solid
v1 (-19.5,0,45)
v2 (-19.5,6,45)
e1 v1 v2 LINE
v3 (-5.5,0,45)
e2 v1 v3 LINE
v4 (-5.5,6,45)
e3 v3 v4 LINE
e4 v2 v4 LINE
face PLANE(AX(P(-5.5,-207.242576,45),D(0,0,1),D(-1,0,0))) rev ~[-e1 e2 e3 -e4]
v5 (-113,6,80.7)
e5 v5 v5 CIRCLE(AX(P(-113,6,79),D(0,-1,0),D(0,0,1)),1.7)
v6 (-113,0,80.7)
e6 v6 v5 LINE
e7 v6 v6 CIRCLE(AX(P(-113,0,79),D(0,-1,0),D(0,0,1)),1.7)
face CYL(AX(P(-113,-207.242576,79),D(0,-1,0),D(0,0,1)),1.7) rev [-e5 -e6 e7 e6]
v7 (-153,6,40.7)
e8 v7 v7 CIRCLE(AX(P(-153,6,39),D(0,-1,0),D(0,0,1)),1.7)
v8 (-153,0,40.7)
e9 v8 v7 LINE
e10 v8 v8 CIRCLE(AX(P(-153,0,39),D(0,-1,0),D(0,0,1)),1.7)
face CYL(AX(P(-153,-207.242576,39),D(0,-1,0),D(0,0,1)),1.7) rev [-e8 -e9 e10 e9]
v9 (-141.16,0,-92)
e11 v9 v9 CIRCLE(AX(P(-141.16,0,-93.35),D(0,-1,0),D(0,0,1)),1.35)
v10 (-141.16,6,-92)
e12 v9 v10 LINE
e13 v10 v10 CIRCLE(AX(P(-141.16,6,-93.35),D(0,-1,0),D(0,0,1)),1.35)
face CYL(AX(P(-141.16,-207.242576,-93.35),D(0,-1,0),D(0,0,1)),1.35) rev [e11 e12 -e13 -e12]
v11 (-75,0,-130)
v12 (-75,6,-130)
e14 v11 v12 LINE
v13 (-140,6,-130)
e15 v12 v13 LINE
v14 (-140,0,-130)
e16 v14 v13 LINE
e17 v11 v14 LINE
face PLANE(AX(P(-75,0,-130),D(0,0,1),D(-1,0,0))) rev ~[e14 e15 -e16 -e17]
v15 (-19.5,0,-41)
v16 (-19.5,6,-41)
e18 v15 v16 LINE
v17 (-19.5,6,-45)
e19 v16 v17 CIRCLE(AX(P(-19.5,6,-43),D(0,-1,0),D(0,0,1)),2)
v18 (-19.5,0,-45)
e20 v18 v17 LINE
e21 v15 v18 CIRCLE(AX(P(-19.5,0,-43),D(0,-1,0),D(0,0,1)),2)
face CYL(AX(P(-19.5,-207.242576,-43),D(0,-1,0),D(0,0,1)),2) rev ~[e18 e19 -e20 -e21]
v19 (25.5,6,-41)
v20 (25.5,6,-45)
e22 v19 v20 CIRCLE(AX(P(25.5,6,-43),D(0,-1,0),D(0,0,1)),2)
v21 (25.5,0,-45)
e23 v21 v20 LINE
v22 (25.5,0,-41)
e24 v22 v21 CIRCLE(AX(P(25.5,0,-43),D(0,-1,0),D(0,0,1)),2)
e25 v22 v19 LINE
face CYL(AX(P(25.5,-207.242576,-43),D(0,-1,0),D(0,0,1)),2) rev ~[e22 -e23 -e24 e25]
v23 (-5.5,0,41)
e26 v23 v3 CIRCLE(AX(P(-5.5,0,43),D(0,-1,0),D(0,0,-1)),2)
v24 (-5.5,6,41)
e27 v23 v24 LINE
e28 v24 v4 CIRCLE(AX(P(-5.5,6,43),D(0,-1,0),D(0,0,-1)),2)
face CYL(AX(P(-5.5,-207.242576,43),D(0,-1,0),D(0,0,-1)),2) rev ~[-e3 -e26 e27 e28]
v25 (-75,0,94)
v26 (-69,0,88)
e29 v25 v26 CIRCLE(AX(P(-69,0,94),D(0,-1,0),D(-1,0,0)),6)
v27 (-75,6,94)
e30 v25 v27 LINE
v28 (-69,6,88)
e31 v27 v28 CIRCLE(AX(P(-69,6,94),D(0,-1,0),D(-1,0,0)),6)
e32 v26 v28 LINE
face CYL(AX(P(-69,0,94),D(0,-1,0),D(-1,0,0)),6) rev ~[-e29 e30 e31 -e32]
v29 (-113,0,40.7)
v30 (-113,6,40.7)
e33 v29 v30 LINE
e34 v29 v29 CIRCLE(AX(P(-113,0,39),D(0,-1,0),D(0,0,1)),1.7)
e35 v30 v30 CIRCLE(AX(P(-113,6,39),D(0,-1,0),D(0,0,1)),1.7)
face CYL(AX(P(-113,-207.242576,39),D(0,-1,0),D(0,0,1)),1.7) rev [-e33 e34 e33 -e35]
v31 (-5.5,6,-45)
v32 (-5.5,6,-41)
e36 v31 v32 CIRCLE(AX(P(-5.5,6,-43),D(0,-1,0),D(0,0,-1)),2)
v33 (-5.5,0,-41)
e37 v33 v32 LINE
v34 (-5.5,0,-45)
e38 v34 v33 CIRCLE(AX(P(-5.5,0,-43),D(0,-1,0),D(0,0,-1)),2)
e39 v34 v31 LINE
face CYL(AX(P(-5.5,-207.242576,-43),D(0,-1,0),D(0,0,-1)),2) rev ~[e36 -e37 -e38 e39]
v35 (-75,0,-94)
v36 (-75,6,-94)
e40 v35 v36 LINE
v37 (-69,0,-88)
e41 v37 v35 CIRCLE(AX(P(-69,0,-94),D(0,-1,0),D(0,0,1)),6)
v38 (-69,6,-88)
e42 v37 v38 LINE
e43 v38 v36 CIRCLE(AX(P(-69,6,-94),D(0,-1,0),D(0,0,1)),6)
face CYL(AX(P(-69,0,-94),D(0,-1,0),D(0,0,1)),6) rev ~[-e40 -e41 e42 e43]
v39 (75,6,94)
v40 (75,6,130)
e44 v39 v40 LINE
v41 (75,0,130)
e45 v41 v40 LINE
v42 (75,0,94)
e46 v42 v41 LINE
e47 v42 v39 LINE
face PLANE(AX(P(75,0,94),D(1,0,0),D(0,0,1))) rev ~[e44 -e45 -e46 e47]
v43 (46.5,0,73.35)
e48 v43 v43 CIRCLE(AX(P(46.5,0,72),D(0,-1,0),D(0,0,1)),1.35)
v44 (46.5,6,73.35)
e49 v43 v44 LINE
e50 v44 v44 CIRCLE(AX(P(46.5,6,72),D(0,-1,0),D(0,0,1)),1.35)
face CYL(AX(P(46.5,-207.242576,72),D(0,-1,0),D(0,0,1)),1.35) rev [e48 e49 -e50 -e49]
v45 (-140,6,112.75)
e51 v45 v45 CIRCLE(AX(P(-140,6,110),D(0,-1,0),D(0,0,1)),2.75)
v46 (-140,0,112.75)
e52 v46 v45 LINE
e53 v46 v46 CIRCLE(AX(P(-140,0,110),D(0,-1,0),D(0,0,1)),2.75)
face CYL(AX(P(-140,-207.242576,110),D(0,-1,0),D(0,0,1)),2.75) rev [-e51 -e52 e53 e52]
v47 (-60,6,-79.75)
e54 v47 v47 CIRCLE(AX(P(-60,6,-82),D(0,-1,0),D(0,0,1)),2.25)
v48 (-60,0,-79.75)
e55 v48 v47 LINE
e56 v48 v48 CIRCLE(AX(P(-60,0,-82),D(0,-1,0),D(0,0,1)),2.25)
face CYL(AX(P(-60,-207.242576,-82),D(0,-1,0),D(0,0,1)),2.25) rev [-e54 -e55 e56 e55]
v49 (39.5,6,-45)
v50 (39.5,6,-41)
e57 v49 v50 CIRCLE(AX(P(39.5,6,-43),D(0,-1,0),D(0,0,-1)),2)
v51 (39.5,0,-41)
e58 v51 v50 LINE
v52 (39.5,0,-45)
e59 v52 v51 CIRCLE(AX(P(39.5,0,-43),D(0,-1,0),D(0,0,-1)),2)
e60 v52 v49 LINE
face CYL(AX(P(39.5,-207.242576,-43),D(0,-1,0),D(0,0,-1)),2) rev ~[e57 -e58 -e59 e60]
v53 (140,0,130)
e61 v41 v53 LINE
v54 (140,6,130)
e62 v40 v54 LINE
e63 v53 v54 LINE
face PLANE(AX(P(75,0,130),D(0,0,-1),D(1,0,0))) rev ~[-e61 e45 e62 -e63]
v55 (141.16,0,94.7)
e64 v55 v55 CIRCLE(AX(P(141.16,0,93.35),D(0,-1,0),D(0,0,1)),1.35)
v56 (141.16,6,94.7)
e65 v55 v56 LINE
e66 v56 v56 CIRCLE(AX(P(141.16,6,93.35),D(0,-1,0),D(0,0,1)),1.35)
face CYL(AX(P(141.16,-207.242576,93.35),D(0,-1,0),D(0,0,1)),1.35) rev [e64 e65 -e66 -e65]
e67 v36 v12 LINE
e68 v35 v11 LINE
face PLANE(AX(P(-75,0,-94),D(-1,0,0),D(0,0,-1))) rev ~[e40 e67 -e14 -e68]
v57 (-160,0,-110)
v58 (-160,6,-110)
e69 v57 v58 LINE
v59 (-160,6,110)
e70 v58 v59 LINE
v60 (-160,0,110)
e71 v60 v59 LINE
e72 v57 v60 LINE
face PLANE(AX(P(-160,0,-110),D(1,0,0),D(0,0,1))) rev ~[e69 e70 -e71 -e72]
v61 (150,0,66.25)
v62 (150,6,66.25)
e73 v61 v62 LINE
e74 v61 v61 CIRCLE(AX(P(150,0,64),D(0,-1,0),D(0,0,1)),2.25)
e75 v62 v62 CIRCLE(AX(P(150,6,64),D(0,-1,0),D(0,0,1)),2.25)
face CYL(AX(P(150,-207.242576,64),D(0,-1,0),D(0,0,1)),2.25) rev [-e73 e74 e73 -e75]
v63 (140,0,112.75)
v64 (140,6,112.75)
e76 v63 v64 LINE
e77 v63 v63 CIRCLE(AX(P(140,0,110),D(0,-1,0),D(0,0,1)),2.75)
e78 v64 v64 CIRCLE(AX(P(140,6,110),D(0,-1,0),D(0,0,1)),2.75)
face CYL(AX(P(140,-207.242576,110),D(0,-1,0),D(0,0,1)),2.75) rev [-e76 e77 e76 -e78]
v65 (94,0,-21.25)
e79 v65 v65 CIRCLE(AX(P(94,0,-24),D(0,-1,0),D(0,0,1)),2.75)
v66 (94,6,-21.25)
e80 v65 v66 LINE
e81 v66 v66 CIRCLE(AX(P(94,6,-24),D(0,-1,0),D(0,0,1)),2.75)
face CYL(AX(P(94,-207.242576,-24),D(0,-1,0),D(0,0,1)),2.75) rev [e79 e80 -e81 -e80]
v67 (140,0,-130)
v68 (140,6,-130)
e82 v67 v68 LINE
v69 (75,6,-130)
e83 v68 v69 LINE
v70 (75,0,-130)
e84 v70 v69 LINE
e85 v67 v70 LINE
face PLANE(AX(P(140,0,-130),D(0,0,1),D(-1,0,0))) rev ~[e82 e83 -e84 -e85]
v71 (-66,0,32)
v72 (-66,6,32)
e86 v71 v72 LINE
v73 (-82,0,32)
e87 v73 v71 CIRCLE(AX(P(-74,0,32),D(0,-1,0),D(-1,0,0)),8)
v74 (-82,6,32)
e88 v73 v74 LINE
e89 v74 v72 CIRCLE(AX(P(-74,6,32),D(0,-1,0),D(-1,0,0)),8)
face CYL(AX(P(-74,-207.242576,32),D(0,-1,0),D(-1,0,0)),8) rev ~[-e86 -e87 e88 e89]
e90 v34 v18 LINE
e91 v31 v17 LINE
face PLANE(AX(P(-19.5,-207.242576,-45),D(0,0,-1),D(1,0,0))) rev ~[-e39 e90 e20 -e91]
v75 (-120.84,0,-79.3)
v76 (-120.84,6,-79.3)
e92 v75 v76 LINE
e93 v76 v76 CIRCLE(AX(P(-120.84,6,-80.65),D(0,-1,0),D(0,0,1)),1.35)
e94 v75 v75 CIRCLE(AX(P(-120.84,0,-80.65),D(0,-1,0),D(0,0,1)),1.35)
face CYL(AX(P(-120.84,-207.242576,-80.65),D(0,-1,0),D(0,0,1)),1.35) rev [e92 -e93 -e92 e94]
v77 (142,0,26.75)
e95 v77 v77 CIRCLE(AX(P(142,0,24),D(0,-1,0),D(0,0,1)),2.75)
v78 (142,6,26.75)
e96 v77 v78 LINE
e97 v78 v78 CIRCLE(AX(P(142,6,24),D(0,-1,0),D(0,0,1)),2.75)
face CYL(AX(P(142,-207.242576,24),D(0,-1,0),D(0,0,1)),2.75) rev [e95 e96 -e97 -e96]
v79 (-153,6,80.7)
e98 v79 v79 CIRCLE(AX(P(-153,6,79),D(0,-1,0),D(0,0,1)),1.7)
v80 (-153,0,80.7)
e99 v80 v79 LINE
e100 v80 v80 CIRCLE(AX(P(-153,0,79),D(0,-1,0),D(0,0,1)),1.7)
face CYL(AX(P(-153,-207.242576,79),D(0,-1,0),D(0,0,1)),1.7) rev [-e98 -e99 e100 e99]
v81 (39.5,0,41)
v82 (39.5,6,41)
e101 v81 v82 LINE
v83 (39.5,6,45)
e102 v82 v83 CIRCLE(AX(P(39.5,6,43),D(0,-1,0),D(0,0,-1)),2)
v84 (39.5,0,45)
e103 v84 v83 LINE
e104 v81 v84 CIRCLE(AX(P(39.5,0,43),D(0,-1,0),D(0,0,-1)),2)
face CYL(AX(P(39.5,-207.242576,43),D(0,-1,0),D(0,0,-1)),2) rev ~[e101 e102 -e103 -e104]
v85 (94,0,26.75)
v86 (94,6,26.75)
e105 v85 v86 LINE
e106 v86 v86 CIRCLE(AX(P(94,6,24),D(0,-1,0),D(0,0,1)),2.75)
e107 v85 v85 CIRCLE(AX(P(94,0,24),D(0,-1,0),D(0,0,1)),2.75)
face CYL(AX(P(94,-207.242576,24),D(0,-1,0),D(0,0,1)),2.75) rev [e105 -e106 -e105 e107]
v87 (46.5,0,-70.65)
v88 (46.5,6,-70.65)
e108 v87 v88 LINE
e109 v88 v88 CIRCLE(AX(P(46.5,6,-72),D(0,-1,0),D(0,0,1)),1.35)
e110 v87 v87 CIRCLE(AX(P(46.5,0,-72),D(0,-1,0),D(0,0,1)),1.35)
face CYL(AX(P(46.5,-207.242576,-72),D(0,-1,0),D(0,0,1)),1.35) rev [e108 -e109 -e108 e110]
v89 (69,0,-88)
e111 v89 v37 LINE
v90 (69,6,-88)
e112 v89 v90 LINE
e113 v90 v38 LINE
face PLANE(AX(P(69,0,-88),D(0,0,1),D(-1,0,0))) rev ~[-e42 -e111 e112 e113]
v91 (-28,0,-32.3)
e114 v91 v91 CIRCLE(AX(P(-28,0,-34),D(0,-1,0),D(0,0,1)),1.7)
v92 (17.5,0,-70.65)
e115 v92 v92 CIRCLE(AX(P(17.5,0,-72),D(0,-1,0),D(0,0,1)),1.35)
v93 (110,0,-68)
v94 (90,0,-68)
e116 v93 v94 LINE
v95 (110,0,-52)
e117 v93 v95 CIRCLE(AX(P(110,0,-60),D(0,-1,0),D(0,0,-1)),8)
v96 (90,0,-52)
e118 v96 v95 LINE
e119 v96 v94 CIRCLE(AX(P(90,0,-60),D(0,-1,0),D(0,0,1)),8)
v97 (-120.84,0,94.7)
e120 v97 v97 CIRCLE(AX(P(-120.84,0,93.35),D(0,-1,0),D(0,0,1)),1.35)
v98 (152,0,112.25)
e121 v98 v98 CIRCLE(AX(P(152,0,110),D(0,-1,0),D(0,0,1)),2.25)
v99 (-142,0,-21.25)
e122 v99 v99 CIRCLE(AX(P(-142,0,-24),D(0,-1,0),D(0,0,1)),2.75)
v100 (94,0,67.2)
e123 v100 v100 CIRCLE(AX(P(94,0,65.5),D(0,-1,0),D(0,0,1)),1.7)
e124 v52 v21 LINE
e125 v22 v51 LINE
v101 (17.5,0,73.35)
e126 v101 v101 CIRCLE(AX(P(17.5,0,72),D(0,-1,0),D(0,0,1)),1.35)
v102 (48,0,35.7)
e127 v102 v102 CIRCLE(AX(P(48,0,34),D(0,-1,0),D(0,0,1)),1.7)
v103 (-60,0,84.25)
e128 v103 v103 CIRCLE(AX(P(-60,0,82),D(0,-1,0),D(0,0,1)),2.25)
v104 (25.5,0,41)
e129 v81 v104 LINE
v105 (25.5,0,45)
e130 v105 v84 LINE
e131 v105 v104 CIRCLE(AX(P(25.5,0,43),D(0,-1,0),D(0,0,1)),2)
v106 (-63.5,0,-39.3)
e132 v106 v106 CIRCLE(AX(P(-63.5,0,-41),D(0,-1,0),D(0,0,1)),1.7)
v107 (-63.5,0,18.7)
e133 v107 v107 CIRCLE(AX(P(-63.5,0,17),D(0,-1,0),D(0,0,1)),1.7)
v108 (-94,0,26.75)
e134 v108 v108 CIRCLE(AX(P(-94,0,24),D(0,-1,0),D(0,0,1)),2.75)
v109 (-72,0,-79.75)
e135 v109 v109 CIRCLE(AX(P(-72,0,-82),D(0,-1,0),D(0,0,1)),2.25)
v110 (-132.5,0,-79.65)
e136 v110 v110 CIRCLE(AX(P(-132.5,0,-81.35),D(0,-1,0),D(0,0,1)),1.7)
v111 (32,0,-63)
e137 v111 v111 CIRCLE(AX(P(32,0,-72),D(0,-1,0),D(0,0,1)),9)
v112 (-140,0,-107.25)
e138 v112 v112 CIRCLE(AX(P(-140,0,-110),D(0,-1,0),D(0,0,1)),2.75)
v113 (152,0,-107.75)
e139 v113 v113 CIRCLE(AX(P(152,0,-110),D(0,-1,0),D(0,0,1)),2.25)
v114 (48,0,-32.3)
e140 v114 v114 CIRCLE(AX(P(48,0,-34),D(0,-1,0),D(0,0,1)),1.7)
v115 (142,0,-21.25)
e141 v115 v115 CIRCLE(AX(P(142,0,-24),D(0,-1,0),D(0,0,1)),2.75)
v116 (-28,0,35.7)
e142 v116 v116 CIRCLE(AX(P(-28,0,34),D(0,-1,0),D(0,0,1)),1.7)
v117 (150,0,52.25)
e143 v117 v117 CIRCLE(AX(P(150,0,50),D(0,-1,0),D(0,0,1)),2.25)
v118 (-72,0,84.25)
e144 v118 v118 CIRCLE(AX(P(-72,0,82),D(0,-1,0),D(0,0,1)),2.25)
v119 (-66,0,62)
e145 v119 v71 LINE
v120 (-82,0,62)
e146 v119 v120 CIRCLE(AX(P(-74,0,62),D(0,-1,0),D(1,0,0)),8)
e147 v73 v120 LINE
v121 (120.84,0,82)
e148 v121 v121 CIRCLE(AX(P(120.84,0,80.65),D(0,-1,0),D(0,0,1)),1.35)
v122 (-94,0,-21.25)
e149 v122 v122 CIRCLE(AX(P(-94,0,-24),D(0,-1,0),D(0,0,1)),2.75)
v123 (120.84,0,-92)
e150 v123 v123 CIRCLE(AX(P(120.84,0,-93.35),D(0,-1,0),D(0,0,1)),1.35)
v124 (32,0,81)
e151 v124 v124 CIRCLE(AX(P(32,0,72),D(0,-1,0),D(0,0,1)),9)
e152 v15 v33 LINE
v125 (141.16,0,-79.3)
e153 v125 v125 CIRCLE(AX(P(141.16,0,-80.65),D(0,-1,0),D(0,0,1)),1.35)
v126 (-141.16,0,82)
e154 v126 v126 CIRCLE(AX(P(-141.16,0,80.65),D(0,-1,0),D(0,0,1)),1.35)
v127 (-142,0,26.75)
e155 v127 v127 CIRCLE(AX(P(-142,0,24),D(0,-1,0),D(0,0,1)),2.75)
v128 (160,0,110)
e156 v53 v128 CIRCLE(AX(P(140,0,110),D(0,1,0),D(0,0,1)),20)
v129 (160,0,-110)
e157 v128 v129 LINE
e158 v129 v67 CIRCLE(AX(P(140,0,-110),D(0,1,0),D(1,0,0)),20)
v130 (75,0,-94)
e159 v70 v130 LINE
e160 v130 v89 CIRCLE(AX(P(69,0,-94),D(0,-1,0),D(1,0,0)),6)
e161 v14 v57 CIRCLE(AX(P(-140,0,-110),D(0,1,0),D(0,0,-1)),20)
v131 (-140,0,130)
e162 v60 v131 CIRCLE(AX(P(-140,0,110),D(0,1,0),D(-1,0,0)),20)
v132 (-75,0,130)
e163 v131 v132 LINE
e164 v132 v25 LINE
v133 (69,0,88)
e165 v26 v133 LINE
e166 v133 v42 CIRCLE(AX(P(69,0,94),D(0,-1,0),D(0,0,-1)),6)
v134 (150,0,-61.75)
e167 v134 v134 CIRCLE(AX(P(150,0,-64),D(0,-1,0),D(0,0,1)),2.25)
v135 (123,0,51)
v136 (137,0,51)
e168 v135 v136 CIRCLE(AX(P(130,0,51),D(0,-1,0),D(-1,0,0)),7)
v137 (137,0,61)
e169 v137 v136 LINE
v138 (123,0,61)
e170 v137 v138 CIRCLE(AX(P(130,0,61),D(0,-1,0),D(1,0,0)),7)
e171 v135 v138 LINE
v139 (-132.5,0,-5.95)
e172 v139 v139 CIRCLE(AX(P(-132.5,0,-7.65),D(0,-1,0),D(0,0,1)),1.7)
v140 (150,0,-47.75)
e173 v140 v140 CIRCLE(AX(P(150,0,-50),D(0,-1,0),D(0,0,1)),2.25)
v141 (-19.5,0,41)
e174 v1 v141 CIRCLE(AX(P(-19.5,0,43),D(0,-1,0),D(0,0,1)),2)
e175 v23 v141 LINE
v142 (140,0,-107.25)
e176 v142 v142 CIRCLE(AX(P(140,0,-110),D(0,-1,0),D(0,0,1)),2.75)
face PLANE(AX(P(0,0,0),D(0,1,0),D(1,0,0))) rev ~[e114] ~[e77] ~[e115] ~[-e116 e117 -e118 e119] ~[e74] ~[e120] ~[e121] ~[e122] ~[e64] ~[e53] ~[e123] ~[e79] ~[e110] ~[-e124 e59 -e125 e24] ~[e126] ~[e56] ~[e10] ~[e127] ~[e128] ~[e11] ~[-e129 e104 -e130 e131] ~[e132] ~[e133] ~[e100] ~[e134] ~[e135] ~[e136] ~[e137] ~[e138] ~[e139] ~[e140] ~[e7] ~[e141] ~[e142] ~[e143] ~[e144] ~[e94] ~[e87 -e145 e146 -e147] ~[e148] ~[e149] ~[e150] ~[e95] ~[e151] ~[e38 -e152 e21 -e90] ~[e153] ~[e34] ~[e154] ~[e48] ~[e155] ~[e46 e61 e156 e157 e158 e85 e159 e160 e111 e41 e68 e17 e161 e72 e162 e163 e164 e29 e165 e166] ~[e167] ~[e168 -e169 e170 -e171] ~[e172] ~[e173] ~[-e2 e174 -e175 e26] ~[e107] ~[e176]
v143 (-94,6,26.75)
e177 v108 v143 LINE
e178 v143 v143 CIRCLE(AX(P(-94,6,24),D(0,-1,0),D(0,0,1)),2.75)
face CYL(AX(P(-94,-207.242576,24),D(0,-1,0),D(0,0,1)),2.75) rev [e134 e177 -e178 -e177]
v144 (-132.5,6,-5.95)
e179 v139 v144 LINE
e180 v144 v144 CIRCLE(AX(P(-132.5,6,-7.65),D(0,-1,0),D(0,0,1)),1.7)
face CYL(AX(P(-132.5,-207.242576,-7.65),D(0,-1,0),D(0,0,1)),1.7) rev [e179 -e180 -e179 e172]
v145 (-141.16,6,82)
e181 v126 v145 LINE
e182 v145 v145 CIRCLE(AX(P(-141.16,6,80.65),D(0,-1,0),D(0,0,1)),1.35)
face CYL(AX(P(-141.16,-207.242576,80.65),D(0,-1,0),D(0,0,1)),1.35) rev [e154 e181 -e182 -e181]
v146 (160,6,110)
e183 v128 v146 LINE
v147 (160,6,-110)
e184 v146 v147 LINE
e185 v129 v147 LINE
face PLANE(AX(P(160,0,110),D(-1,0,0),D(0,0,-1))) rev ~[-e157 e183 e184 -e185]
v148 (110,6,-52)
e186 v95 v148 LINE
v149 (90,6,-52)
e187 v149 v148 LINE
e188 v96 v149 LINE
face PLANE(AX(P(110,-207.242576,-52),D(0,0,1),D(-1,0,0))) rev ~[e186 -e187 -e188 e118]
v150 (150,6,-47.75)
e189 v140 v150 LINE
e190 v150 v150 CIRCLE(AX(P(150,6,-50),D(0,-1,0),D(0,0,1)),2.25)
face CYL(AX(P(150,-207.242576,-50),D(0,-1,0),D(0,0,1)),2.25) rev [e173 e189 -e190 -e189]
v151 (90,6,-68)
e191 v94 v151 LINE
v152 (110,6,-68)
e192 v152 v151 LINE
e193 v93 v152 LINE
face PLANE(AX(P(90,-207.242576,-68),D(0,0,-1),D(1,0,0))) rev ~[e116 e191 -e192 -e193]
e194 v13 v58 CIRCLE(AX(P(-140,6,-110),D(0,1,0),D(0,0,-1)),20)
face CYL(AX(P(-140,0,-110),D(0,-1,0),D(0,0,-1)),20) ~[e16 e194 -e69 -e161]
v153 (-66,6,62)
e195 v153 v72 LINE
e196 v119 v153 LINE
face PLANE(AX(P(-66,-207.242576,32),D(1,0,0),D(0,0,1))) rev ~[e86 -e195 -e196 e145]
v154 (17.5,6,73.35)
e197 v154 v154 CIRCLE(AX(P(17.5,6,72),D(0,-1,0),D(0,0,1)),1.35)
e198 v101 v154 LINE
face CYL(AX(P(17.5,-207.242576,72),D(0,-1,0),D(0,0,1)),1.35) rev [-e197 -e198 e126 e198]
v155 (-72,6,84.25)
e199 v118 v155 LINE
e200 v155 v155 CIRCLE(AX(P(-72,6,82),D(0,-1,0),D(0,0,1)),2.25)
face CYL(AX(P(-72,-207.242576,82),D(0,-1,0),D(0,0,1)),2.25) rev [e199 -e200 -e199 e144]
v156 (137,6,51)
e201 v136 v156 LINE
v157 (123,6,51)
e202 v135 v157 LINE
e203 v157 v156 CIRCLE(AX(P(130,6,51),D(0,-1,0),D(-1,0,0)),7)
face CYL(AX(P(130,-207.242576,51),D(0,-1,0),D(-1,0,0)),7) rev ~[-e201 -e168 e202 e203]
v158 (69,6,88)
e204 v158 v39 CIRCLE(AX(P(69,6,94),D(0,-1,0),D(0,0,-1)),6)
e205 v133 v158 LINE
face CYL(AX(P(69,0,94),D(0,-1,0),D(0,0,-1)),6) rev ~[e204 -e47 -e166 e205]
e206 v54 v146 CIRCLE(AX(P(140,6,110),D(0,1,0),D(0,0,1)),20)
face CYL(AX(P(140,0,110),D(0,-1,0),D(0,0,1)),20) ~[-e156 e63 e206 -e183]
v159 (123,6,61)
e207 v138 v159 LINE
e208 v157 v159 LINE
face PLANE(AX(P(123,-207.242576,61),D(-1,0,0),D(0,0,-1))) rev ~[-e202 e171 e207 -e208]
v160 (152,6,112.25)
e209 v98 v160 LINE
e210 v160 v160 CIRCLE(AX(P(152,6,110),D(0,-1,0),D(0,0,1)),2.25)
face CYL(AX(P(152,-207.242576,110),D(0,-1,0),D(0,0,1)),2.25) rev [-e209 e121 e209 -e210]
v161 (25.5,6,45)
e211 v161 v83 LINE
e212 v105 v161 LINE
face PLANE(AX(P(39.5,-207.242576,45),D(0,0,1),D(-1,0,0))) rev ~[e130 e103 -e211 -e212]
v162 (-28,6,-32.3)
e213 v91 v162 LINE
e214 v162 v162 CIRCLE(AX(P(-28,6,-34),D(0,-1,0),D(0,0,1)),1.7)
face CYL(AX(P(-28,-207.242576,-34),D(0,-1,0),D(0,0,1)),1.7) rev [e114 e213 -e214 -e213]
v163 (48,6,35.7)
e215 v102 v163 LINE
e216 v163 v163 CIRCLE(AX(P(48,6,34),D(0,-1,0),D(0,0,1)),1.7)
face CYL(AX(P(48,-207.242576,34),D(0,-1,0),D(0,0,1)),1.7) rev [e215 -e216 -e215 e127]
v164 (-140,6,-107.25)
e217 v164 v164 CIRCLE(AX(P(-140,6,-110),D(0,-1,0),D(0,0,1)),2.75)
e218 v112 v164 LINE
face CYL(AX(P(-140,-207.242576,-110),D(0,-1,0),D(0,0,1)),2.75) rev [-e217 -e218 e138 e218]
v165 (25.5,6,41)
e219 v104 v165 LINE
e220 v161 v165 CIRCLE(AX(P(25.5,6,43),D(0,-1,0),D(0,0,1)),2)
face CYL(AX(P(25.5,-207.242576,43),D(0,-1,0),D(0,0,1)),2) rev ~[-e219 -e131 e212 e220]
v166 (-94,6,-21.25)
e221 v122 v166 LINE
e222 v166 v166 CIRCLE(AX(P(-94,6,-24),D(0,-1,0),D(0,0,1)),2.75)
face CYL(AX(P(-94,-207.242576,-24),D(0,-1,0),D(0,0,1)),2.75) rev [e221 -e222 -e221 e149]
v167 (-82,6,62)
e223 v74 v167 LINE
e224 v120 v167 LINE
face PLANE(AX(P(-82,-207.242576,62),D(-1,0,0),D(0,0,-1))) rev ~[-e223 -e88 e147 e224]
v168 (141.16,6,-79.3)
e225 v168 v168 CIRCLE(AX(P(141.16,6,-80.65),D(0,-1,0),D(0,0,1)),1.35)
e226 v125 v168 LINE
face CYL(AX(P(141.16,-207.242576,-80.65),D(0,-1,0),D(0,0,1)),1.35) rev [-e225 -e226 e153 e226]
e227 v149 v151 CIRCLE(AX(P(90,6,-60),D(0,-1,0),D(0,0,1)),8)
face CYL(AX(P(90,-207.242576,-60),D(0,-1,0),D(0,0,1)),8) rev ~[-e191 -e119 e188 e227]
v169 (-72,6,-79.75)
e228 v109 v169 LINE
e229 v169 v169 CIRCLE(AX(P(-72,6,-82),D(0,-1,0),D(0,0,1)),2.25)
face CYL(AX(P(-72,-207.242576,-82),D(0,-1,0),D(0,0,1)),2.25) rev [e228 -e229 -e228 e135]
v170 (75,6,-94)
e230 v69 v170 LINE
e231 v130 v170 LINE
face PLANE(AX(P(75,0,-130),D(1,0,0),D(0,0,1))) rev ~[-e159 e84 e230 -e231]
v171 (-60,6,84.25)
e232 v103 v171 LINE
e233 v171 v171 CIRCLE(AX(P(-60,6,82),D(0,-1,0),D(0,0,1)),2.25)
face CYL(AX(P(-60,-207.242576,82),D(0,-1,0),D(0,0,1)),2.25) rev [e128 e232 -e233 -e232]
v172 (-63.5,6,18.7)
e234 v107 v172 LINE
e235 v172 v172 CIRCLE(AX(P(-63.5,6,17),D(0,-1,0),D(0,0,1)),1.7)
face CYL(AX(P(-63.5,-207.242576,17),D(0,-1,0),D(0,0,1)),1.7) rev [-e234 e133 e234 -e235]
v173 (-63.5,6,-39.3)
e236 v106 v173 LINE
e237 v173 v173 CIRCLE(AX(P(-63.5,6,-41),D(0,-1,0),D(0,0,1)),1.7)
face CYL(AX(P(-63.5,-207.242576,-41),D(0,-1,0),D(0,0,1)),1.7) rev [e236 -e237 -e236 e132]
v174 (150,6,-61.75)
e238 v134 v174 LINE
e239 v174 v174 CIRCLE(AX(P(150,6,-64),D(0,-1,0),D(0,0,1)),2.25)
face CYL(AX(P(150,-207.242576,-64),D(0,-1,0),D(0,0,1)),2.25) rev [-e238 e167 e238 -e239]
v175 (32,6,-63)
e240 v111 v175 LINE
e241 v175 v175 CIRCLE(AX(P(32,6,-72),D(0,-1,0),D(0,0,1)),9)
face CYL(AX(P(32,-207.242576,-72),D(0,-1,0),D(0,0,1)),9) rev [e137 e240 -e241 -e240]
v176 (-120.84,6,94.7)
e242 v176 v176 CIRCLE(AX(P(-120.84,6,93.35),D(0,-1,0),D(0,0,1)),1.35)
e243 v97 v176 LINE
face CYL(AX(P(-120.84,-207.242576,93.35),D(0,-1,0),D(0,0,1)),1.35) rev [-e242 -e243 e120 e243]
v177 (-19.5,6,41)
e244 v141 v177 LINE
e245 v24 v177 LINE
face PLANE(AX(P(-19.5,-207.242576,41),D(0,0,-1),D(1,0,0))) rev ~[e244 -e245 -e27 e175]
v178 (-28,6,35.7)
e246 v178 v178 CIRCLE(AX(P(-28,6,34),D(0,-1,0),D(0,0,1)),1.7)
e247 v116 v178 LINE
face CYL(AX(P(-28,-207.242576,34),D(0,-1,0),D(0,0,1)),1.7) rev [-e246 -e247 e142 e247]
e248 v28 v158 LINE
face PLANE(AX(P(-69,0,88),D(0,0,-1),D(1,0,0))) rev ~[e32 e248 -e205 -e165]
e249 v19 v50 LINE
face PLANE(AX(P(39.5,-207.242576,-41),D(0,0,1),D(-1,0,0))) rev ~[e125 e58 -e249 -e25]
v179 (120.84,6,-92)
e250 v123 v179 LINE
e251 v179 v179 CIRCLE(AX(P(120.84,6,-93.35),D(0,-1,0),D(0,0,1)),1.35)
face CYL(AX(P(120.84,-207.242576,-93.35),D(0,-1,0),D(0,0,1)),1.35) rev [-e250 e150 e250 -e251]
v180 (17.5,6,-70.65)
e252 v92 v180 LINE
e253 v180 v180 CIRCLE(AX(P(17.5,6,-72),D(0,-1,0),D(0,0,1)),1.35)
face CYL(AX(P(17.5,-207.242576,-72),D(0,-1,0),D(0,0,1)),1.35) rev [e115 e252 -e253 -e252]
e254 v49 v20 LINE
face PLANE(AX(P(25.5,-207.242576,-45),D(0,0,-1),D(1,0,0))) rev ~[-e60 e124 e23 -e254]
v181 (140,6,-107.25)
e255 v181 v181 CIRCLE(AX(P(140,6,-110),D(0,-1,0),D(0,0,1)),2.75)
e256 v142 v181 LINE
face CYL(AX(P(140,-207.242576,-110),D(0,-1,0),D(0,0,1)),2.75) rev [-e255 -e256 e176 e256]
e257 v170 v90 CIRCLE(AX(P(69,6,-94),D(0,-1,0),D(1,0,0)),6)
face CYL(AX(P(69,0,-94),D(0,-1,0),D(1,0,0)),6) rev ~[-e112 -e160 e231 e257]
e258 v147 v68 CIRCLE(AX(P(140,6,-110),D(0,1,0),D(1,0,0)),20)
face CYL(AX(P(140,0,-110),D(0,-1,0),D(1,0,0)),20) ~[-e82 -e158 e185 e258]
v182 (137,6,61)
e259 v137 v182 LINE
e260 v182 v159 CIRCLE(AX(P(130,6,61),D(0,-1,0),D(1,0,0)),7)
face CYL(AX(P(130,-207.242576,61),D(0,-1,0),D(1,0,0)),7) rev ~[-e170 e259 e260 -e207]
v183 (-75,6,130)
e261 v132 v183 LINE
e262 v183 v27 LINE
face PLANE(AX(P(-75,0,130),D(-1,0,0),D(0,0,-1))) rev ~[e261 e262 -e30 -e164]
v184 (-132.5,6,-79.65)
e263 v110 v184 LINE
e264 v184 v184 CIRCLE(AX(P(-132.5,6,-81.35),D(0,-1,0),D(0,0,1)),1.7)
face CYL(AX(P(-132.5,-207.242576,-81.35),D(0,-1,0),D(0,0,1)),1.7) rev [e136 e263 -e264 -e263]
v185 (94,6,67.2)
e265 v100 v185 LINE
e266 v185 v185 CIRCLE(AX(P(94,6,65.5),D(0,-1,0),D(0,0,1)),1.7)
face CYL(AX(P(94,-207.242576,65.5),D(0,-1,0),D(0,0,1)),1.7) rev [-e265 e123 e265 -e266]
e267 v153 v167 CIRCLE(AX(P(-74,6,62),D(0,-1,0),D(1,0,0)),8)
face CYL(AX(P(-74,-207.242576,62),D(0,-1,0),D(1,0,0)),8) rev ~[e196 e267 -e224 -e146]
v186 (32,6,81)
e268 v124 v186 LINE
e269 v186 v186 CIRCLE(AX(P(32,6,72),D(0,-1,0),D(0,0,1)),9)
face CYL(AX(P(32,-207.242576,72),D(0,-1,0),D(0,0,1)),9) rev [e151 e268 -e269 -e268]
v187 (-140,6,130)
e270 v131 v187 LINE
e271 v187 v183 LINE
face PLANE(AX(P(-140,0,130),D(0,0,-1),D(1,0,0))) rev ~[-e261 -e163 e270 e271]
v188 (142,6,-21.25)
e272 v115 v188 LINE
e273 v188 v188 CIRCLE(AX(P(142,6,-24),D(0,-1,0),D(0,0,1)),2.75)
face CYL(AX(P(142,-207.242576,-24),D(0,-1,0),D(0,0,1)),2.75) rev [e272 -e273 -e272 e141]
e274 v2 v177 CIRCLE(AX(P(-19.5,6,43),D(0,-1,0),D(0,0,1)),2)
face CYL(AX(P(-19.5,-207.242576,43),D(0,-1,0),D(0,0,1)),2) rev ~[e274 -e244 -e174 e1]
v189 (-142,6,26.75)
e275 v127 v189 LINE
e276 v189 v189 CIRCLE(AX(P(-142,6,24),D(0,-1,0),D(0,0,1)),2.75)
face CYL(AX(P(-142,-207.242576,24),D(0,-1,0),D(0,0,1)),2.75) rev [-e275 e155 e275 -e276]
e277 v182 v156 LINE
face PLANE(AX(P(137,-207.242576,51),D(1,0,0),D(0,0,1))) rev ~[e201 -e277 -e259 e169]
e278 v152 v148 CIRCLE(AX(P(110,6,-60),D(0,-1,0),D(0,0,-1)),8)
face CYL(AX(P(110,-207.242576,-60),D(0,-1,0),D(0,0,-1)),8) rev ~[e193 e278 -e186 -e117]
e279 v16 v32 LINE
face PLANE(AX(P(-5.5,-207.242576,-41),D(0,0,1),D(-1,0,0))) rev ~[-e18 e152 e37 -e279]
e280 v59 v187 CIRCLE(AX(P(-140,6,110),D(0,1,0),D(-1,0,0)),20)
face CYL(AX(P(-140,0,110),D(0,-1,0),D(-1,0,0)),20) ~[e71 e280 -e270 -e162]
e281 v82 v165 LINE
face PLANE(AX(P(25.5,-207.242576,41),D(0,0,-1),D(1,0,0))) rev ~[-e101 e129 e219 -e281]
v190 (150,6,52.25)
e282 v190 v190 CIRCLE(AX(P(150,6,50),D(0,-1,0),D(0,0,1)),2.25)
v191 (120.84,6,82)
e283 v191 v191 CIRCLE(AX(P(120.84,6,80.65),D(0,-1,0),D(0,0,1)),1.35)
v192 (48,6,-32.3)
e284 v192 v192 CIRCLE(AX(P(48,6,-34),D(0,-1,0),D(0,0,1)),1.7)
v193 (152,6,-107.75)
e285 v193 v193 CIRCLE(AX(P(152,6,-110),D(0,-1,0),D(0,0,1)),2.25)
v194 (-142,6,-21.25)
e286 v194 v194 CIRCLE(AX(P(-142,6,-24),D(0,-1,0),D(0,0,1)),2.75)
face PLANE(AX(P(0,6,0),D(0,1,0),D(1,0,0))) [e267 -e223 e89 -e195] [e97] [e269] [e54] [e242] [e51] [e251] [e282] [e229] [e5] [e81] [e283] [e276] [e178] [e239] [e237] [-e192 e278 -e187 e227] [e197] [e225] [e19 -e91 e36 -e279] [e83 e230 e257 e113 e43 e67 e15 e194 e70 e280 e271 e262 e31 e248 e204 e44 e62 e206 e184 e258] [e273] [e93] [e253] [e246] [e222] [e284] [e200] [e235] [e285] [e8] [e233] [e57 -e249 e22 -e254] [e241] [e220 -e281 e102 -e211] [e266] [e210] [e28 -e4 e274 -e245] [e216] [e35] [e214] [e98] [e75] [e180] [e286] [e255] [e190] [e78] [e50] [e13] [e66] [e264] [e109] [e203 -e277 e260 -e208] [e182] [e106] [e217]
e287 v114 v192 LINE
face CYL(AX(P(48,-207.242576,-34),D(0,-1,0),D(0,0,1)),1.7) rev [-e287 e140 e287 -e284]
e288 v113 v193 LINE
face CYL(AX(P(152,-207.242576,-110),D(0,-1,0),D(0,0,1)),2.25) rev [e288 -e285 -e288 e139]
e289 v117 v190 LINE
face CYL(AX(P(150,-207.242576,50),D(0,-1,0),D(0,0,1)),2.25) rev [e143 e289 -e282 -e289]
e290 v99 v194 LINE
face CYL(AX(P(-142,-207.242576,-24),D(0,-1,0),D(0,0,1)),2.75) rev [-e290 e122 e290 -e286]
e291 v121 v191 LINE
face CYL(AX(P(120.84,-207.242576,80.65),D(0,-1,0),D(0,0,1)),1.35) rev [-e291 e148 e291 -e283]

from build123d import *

# Parameters (mm, degrees)
PLATE_DEPTH                      = 6
CUT_DECKPOSTS_M5_DEPTH           = 207.242575624
CUT_DECKPOSTS_M5_DEPTH_BACK      = 207.242575624
SK_DECKPOSTS_M5_R                = 2.75
CUT_CASTERMOUNTS_M5_DEPTH        = 207.242575624
CUT_CASTERMOUNTS_M5_DEPTH_BACK   = 207.242575624
SK_CASTERMOUNTS_M5_R             = 2.75
CUT_SPRINGHOLES_18_DEPTH         = 207.242575624
CUT_SPRINGHOLES_18_DEPTH_BACK    = 207.242575624
SK_SPRINGHOLES_18_R              = 9
CUT_SPRINGCUPS_M2P5_DEPTH        = 207.242575624
CUT_SPRINGCUPS_M2P5_DEPTH_BACK   = 207.242575624
SK_SPRINGCUPS_M2P5_R             = 1.35
CUT_PIVOTHANGERS_M4_DEPTH        = 207.242575624
CUT_PIVOTHANGERS_M4_DEPTH_BACK   = 207.242575624
SK_PIVOTHANGERS_M4_R             = 2.25
CUT_BATTERYTRAY_M3_DEPTH         = 207.242575624
CUT_BATTERYTRAY_M3_DEPTH_BACK    = 207.242575624
SK_BATTERYTRAY_M3_R              = 1.7
CUT_BATTERYSTRAPS_DEPTH          = 207.242575624
CUT_BATTERYSTRAPS_DEPTH_BACK     = 207.242575624
CUT_POWERBOARD_M3_DEPTH          = 207.242575624
CUT_POWERBOARD_M3_DEPTH_BACK     = 207.242575624
SK_POWERBOARD_M3_R               = 1.7
CUT_MOTORDRIVER_M3_DEPTH         = 207.242575624
CUT_MOTORDRIVER_M3_DEPTH_BACK    = 207.242575624
SK_MOTORDRIVER_M3_R              = 1.7
CUT_SPLICES_M3_DEPTH             = 207.242575624
CUT_SPLICES_M3_DEPTH_BACK        = 207.242575624
SK_SPLICES_M3_R                  = 1.7
CUT_CHARGECONTACTS_M4_DEPTH      = 207.242575624
CUT_CHARGECONTACTS_M4_DEPTH_BACK = 207.242575624
SK_CHARGECONTACTS_M4_R           = 2.25
CUT_BUMPER_M4_DEPTH              = 207.242575624
CUT_BUMPER_M4_DEPTH_BACK         = 207.242575624
SK_BUMPER_M4_R                   = 2.25
CUT_CLIFFSENSORS_M2P5_DEPTH      = 207.242575624
CUT_CLIFFSENSORS_M2P5_DEPTH_BACK = 207.242575624
SK_CLIFFSENSORS_M2P5_R           = 1.35
CUT_FUSEF2_M3_DEPTH              = 207.242575624
CUT_FUSEF2_M3_DEPTH_BACK         = 207.242575624
SK_FUSEF2_M3_R                   = 1.7
CUT_PASSTHROUGHS_DEPTH           = 207.242575624
CUT_PASSTHROUGHS_DEPTH_BACK      = 207.242575624


with BuildPart() as part:
    # SK_Outline → Plate (new body)
    with BuildSketch(Plane(origin=(0, 0, 0), x_dir=(1, 0, 0), z_dir=(0, 1, 0))):
        with BuildLine():
            Line((160, -110), (160, 110))
            ThreePointArc((160, 110), (154.142135624, 124.142135624), (140, 130))
            Line((140, 130), (75, 130))
            Line((75, 130), (75, 94))
            ThreePointArc((75, 94), (73.242640687, 89.757359313), (69, 88))
            Line((69, 88), (-69, 88))
            ThreePointArc((-69, 88), (-73.242640687, 89.757359313), (-75, 94))
            Line((-75, 94), (-75, 130))
            Line((-75, 130), (-140, 130))
            ThreePointArc((-140, 130), (-154.142135624, 124.142135624), (-160, 110))
            Line((-160, 110), (-160, -110))
            ThreePointArc((-160, -110), (-154.142135624, -124.142135624), (-140, -130))
            Line((-140, -130), (-75, -130))
            Line((-75, -130), (-75, -94))
            ThreePointArc((-75, -94), (-73.242640687, -89.757359313), (-69, -88))
            Line((-69, -88), (69, -88))
            ThreePointArc((69, -88), (73.242640687, -89.757359313), (75, -94))
            Line((75, -94), (75, -130))
            Line((75, -130), (140, -130))
            ThreePointArc((140, -130), (154.142135624, -124.142135624), (160, -110))
        make_face()
    extrude(amount=PLATE_DEPTH)

    # SK_DeckPosts_M5 → Cut_DeckPosts_M5 (cut, two sides: drawn at the far end of the back side and taken through both)
    with BuildSketch(Plane(origin=(0, 0, 0), x_dir=(1, 0, 0), z_dir=(0, 1, 0)).offset(-CUT_DECKPOSTS_M5_DEPTH_BACK)):
        with Locations(Location((140, -110, 0), (0, 0, 270))):
            Circle(SK_DECKPOSTS_M5_R)
        with Locations(Location((140, 110, 0), (0, 0, 270))):
            Circle(SK_DECKPOSTS_M5_R)
        with Locations(Location((-140, -110, 0), (0, 0, 270))):
            Circle(SK_DECKPOSTS_M5_R)
        with Locations(Location((-140, 110, 0), (0, 0, 270))):
            Circle(SK_DECKPOSTS_M5_R)
    extrude(amount=CUT_DECKPOSTS_M5_DEPTH + CUT_DECKPOSTS_M5_DEPTH_BACK, mode=Mode.SUBTRACT)

    # SK_CasterMounts_M5 → Cut_CasterMounts_M5 (cut, two sides: drawn at the far end of the back side and taken through both)
    with BuildSketch(Plane(origin=(0, 0, 0), x_dir=(1, 0, 0), z_dir=(0, 1, 0)).offset(-CUT_CASTERMOUNTS_M5_DEPTH_BACK)):
        with Locations(Location((94, 24, 0), (0, 0, 270))):
            Circle(SK_CASTERMOUNTS_M5_R)
        with Locations(Location((94, -24, 0), (0, 0, 270))):
            Circle(SK_CASTERMOUNTS_M5_R)
        with Locations(Location((142, 24, 0), (0, 0, 270))):
            Circle(SK_CASTERMOUNTS_M5_R)
        with Locations(Location((142, -24, 0), (0, 0, 270))):
            Circle(SK_CASTERMOUNTS_M5_R)
        with Locations(Location((-142, 24, 0), (0, 0, 270))):
            Circle(SK_CASTERMOUNTS_M5_R)
        with Locations(Location((-142, -24, 0), (0, 0, 270))):
            Circle(SK_CASTERMOUNTS_M5_R)
        with Locations(Location((-94, 24, 0), (0, 0, 270))):
            Circle(SK_CASTERMOUNTS_M5_R)
        with Locations(Location((-94, -24, 0), (0, 0, 270))):
            Circle(SK_CASTERMOUNTS_M5_R)
    extrude(amount=CUT_CASTERMOUNTS_M5_DEPTH + CUT_CASTERMOUNTS_M5_DEPTH_BACK, mode=Mode.SUBTRACT)

    # SK_SpringHoles_18 → Cut_SpringHoles_18 (cut, two sides: drawn at the far end of the back side and taken through both)
    with BuildSketch(Plane(origin=(0, 0, 0), x_dir=(1, 0, 0), z_dir=(0, 1, 0)).offset(-CUT_SPRINGHOLES_18_DEPTH_BACK)):
        with Locations(Location((32, -72, 0), (0, 0, 270))):
            Circle(SK_SPRINGHOLES_18_R)
        with Locations(Location((32, 72, 0), (0, 0, 270))):
            Circle(SK_SPRINGHOLES_18_R)
    extrude(amount=CUT_SPRINGHOLES_18_DEPTH + CUT_SPRINGHOLES_18_DEPTH_BACK, mode=Mode.SUBTRACT)

    # SK_SpringCups_M2p5 → Cut_SpringCups_M2p5 (cut, two sides: drawn at the far end of the back side and taken through both)
    with BuildSketch(Plane(origin=(0, 0, 0), x_dir=(1, 0, 0), z_dir=(0, 1, 0)).offset(-CUT_SPRINGCUPS_M2P5_DEPTH_BACK)):
        with Locations(Location((17.5, -72, 0), (0, 0, 270))):
            Circle(SK_SPRINGCUPS_M2P5_R)
        with Locations(Location((46.5, -72, 0), (0, 0, 270))):
            Circle(SK_SPRINGCUPS_M2P5_R)
        with Locations(Location((17.5, 72, 0), (0, 0, 270))):
            Circle(SK_SPRINGCUPS_M2P5_R)
        with Locations(Location((46.5, 72, 0), (0, 0, 270))):
            Circle(SK_SPRINGCUPS_M2P5_R)
    extrude(amount=CUT_SPRINGCUPS_M2P5_DEPTH + CUT_SPRINGCUPS_M2P5_DEPTH_BACK, mode=Mode.SUBTRACT)

    # SK_PivotHangers_M4 → Cut_PivotHangers_M4 (cut, two sides: drawn at the far end of the back side and taken through both)
    with BuildSketch(Plane(origin=(0, 0, 0), x_dir=(1, 0, 0), z_dir=(0, 1, 0)).offset(-CUT_PIVOTHANGERS_M4_DEPTH_BACK)):
        with Locations(Location((-72, -82, 0), (0, 0, 270))):
            Circle(SK_PIVOTHANGERS_M4_R)
        with Locations(Location((-60, -82, 0), (0, 0, 270))):
            Circle(SK_PIVOTHANGERS_M4_R)
        with Locations(Location((-72, 82, 0), (0, 0, 270))):
            Circle(SK_PIVOTHANGERS_M4_R)
        with Locations(Location((-60, 82, 0), (0, 0, 270))):
            Circle(SK_PIVOTHANGERS_M4_R)
    extrude(amount=CUT_PIVOTHANGERS_M4_DEPTH + CUT_PIVOTHANGERS_M4_DEPTH_BACK, mode=Mode.SUBTRACT)

    # SK_BatteryTray_M3 → Cut_BatteryTray_M3 (cut, two sides: drawn at the far end of the back side and taken through both)
    with BuildSketch(Plane(origin=(0, 0, 0), x_dir=(1, 0, 0), z_dir=(0, 1, 0)).offset(-CUT_BATTERYTRAY_M3_DEPTH_BACK)):
        with Locations(Location((-28, -34, 0), (0, 0, 270))):
            Circle(SK_BATTERYTRAY_M3_R)
        with Locations(Location((-28, 34, 0), (0, 0, 270))):
            Circle(SK_BATTERYTRAY_M3_R)
        with Locations(Location((48, -34, 0), (0, 0, 270))):
            Circle(SK_BATTERYTRAY_M3_R)
        with Locations(Location((48, 34, 0), (0, 0, 270))):
            Circle(SK_BATTERYTRAY_M3_R)
    extrude(amount=CUT_BATTERYTRAY_M3_DEPTH + CUT_BATTERYTRAY_M3_DEPTH_BACK, mode=Mode.SUBTRACT)

    # SK_BatteryStraps → Cut_BatteryStraps (cut, two sides: drawn at the far end of the back side and taken through both)
    with BuildSketch(Plane(origin=(0, 0, 0), x_dir=(1, 0, 0), z_dir=(0, 1, 0)).offset(-CUT_BATTERYSTRAPS_DEPTH_BACK)):
        with BuildLine():
            Line((-19.5, -41), (-5.5, -41))
            ThreePointArc((-5.5, -41), (-3.5, -43), (-5.5, -45))
            Line((-5.5, -45), (-19.5, -45))
            ThreePointArc((-19.5, -45), (-21.5, -43), (-19.5, -41))
        make_face()
        with BuildLine():
            Line((-19.5, 45), (-5.5, 45))
            ThreePointArc((-5.5, 45), (-3.5, 43), (-5.5, 41))
            Line((-5.5, 41), (-19.5, 41))
            ThreePointArc((-19.5, 41), (-21.5, 43), (-19.5, 45))
        make_face()
        with BuildLine():
            Line((25.5, -41), (39.5, -41))
            ThreePointArc((39.5, -41), (41.5, -43), (39.5, -45))
            Line((39.5, -45), (25.5, -45))
            ThreePointArc((25.5, -45), (23.5, -43), (25.5, -41))
        make_face()
        with BuildLine():
            Line((25.5, 45), (39.5, 45))
            ThreePointArc((39.5, 45), (41.5, 43), (39.5, 41))
            Line((39.5, 41), (25.5, 41))
            ThreePointArc((25.5, 41), (23.5, 43), (25.5, 45))
        make_face()
    extrude(amount=CUT_BATTERYSTRAPS_DEPTH + CUT_BATTERYSTRAPS_DEPTH_BACK, mode=Mode.SUBTRACT)

    # SK_PowerBoard_M3 → Cut_PowerBoard_M3 (cut, two sides: drawn at the far end of the back side and taken through both)
    with BuildSketch(Plane(origin=(0, 0, 0), x_dir=(1, 0, 0), z_dir=(0, 1, 0)).offset(-CUT_POWERBOARD_M3_DEPTH_BACK)):
        with Locations(Location((-132.5, 81.35, 0), (0, 0, 270))):
            Circle(SK_POWERBOARD_M3_R)
        with Locations(Location((-132.5, 7.65, 0), (0, 0, 270))):
            Circle(SK_POWERBOARD_M3_R)
    extrude(amount=CUT_POWERBOARD_M3_DEPTH + CUT_POWERBOARD_M3_DEPTH_BACK, mode=Mode.SUBTRACT)

    # SK_MotorDriver_M3 → Cut_MotorDriver_M3 (cut, two sides: drawn at the far end of the back side and taken through both)
    with BuildSketch(Plane(origin=(0, 0, 0), x_dir=(1, 0, 0), z_dir=(0, 1, 0)).offset(-CUT_MOTORDRIVER_M3_DEPTH_BACK)):
        with Locations(Location((-153, -39, 0), (0, 0, 270))):
            Circle(SK_MOTORDRIVER_M3_R)
        with Locations(Location((-153, -79, 0), (0, 0, 270))):
            Circle(SK_MOTORDRIVER_M3_R)
        with Locations(Location((-113, -39, 0), (0, 0, 270))):
            Circle(SK_MOTORDRIVER_M3_R)
        with Locations(Location((-113, -79, 0), (0, 0, 270))):
            Circle(SK_MOTORDRIVER_M3_R)
    extrude(amount=CUT_MOTORDRIVER_M3_DEPTH + CUT_MOTORDRIVER_M3_DEPTH_BACK, mode=Mode.SUBTRACT)

    # SK_Splices_M3 → Cut_Splices_M3 (cut, two sides: drawn at the far end of the back side and taken through both)
    with BuildSketch(Plane(origin=(0, 0, 0), x_dir=(1, 0, 0), z_dir=(0, 1, 0)).offset(-CUT_SPLICES_M3_DEPTH_BACK)):
        with Locations(Location((-63.5, 41, 0), (0, 0, 270))):
            Circle(SK_SPLICES_M3_R)
        with Locations(Location((-63.5, -17, 0), (0, 0, 270))):
            Circle(SK_SPLICES_M3_R)
    extrude(amount=CUT_SPLICES_M3_DEPTH + CUT_SPLICES_M3_DEPTH_BACK, mode=Mode.SUBTRACT)

    # SK_ChargeContacts_M4 → Cut_ChargeContacts_M4 (cut, two sides: drawn at the far end of the back side and taken through both)
    with BuildSketch(Plane(origin=(0, 0, 0), x_dir=(1, 0, 0), z_dir=(0, 1, 0)).offset(-CUT_CHARGECONTACTS_M4_DEPTH_BACK)):
        with Locations(Location((150, -50, 0), (0, 0, 270))):
            Circle(SK_CHARGECONTACTS_M4_R)
        with Locations(Location((150, -64, 0), (0, 0, 270))):
            Circle(SK_CHARGECONTACTS_M4_R)
        with Locations(Location((150, 50, 0), (0, 0, 270))):
            Circle(SK_CHARGECONTACTS_M4_R)
        with Locations(Location((150, 64, 0), (0, 0, 270))):
            Circle(SK_CHARGECONTACTS_M4_R)
    extrude(amount=CUT_CHARGECONTACTS_M4_DEPTH + CUT_CHARGECONTACTS_M4_DEPTH_BACK, mode=Mode.SUBTRACT)

    # SK_Bumper_M4 → Cut_Bumper_M4 (cut, two sides: drawn at the far end of the back side and taken through both)
    with BuildSketch(Plane(origin=(0, 0, 0), x_dir=(1, 0, 0), z_dir=(0, 1, 0)).offset(-CUT_BUMPER_M4_DEPTH_BACK)):
        with Locations(Location((152, -110, 0), (0, 0, 270))):
            Circle(SK_BUMPER_M4_R)
        with Locations(Location((152, 110, 0), (0, 0, 270))):
            Circle(SK_BUMPER_M4_R)
    extrude(amount=CUT_BUMPER_M4_DEPTH + CUT_BUMPER_M4_DEPTH_BACK, mode=Mode.SUBTRACT)

    # SK_CliffSensors_M2p5 → Cut_CliffSensors_M2p5 (cut, two sides: drawn at the far end of the back side and taken through both)
    with BuildSketch(Plane(origin=(0, 0, 0), x_dir=(1, 0, 0), z_dir=(0, 1, 0)).offset(-CUT_CLIFFSENSORS_M2P5_DEPTH_BACK)):
        with Locations(Location((120.84, -80.65, 0), (0, 0, 270))):
            Circle(SK_CLIFFSENSORS_M2P5_R)
        with Locations(Location((141.16, -93.35, 0), (0, 0, 270))):
            Circle(SK_CLIFFSENSORS_M2P5_R)
        with Locations(Location((120.84, 93.35, 0), (0, 0, 270))):
            Circle(SK_CLIFFSENSORS_M2P5_R)
        with Locations(Location((141.16, 80.65, 0), (0, 0, 270))):
            Circle(SK_CLIFFSENSORS_M2P5_R)
        with Locations(Location((-141.16, -80.65, 0), (0, 0, 270))):
            Circle(SK_CLIFFSENSORS_M2P5_R)
        with Locations(Location((-120.84, -93.35, 0), (0, 0, 270))):
            Circle(SK_CLIFFSENSORS_M2P5_R)
        with Locations(Location((-141.16, 93.35, 0), (0, 0, 270))):
            Circle(SK_CLIFFSENSORS_M2P5_R)
        with Locations(Location((-120.84, 80.65, 0), (0, 0, 270))):
            Circle(SK_CLIFFSENSORS_M2P5_R)
    extrude(amount=CUT_CLIFFSENSORS_M2P5_DEPTH + CUT_CLIFFSENSORS_M2P5_DEPTH_BACK, mode=Mode.SUBTRACT)

    # SK_FuseF2_M3 → Cut_FuseF2_M3 (cut, two sides: drawn at the far end of the back side and taken through both)
    with BuildSketch(Plane(origin=(0, 0, 0), x_dir=(1, 0, 0), z_dir=(0, 1, 0)).offset(-CUT_FUSEF2_M3_DEPTH_BACK)):
        with Locations(Location((94, -65.5, 0), (0, 0, 270))):
            Circle(SK_FUSEF2_M3_R)
    extrude(amount=CUT_FUSEF2_M3_DEPTH + CUT_FUSEF2_M3_DEPTH_BACK, mode=Mode.SUBTRACT)

    # SK_PassThroughs → Cut_PassThroughs (cut, two sides: drawn at the far end of the back side and taken through both)
    with BuildSketch(Plane(origin=(0, 0, 0), x_dir=(1, 0, 0), z_dir=(0, 1, 0)).offset(-CUT_PASSTHROUGHS_DEPTH_BACK)):
        with BuildLine():
            Line((-66, -32), (-66, -62))
            ThreePointArc((-66, -62), (-74, -70), (-82, -62))
            Line((-82, -62), (-82, -32))
            ThreePointArc((-82, -32), (-74, -24), (-66, -32))
        make_face()
        with BuildLine():
            Line((90, 68), (110, 68))
            ThreePointArc((110, 68), (118, 60), (110, 52))
            Line((110, 52), (90, 52))
            ThreePointArc((90, 52), (82, 60), (90, 68))
        make_face()
        with BuildLine():
            Line((137, -51), (137, -61))
            ThreePointArc((137, -61), (130, -68), (123, -61))
            Line((123, -61), (123, -51))
            ThreePointArc((123, -51), (130, -44), (137, -51))
        make_face()
    extrude(amount=CUT_PASSTHROUGHS_DEPTH + CUT_PASSTHROUGHS_DEPTH_BACK, mode=Mode.SUBTRACT)


solid = part.part
